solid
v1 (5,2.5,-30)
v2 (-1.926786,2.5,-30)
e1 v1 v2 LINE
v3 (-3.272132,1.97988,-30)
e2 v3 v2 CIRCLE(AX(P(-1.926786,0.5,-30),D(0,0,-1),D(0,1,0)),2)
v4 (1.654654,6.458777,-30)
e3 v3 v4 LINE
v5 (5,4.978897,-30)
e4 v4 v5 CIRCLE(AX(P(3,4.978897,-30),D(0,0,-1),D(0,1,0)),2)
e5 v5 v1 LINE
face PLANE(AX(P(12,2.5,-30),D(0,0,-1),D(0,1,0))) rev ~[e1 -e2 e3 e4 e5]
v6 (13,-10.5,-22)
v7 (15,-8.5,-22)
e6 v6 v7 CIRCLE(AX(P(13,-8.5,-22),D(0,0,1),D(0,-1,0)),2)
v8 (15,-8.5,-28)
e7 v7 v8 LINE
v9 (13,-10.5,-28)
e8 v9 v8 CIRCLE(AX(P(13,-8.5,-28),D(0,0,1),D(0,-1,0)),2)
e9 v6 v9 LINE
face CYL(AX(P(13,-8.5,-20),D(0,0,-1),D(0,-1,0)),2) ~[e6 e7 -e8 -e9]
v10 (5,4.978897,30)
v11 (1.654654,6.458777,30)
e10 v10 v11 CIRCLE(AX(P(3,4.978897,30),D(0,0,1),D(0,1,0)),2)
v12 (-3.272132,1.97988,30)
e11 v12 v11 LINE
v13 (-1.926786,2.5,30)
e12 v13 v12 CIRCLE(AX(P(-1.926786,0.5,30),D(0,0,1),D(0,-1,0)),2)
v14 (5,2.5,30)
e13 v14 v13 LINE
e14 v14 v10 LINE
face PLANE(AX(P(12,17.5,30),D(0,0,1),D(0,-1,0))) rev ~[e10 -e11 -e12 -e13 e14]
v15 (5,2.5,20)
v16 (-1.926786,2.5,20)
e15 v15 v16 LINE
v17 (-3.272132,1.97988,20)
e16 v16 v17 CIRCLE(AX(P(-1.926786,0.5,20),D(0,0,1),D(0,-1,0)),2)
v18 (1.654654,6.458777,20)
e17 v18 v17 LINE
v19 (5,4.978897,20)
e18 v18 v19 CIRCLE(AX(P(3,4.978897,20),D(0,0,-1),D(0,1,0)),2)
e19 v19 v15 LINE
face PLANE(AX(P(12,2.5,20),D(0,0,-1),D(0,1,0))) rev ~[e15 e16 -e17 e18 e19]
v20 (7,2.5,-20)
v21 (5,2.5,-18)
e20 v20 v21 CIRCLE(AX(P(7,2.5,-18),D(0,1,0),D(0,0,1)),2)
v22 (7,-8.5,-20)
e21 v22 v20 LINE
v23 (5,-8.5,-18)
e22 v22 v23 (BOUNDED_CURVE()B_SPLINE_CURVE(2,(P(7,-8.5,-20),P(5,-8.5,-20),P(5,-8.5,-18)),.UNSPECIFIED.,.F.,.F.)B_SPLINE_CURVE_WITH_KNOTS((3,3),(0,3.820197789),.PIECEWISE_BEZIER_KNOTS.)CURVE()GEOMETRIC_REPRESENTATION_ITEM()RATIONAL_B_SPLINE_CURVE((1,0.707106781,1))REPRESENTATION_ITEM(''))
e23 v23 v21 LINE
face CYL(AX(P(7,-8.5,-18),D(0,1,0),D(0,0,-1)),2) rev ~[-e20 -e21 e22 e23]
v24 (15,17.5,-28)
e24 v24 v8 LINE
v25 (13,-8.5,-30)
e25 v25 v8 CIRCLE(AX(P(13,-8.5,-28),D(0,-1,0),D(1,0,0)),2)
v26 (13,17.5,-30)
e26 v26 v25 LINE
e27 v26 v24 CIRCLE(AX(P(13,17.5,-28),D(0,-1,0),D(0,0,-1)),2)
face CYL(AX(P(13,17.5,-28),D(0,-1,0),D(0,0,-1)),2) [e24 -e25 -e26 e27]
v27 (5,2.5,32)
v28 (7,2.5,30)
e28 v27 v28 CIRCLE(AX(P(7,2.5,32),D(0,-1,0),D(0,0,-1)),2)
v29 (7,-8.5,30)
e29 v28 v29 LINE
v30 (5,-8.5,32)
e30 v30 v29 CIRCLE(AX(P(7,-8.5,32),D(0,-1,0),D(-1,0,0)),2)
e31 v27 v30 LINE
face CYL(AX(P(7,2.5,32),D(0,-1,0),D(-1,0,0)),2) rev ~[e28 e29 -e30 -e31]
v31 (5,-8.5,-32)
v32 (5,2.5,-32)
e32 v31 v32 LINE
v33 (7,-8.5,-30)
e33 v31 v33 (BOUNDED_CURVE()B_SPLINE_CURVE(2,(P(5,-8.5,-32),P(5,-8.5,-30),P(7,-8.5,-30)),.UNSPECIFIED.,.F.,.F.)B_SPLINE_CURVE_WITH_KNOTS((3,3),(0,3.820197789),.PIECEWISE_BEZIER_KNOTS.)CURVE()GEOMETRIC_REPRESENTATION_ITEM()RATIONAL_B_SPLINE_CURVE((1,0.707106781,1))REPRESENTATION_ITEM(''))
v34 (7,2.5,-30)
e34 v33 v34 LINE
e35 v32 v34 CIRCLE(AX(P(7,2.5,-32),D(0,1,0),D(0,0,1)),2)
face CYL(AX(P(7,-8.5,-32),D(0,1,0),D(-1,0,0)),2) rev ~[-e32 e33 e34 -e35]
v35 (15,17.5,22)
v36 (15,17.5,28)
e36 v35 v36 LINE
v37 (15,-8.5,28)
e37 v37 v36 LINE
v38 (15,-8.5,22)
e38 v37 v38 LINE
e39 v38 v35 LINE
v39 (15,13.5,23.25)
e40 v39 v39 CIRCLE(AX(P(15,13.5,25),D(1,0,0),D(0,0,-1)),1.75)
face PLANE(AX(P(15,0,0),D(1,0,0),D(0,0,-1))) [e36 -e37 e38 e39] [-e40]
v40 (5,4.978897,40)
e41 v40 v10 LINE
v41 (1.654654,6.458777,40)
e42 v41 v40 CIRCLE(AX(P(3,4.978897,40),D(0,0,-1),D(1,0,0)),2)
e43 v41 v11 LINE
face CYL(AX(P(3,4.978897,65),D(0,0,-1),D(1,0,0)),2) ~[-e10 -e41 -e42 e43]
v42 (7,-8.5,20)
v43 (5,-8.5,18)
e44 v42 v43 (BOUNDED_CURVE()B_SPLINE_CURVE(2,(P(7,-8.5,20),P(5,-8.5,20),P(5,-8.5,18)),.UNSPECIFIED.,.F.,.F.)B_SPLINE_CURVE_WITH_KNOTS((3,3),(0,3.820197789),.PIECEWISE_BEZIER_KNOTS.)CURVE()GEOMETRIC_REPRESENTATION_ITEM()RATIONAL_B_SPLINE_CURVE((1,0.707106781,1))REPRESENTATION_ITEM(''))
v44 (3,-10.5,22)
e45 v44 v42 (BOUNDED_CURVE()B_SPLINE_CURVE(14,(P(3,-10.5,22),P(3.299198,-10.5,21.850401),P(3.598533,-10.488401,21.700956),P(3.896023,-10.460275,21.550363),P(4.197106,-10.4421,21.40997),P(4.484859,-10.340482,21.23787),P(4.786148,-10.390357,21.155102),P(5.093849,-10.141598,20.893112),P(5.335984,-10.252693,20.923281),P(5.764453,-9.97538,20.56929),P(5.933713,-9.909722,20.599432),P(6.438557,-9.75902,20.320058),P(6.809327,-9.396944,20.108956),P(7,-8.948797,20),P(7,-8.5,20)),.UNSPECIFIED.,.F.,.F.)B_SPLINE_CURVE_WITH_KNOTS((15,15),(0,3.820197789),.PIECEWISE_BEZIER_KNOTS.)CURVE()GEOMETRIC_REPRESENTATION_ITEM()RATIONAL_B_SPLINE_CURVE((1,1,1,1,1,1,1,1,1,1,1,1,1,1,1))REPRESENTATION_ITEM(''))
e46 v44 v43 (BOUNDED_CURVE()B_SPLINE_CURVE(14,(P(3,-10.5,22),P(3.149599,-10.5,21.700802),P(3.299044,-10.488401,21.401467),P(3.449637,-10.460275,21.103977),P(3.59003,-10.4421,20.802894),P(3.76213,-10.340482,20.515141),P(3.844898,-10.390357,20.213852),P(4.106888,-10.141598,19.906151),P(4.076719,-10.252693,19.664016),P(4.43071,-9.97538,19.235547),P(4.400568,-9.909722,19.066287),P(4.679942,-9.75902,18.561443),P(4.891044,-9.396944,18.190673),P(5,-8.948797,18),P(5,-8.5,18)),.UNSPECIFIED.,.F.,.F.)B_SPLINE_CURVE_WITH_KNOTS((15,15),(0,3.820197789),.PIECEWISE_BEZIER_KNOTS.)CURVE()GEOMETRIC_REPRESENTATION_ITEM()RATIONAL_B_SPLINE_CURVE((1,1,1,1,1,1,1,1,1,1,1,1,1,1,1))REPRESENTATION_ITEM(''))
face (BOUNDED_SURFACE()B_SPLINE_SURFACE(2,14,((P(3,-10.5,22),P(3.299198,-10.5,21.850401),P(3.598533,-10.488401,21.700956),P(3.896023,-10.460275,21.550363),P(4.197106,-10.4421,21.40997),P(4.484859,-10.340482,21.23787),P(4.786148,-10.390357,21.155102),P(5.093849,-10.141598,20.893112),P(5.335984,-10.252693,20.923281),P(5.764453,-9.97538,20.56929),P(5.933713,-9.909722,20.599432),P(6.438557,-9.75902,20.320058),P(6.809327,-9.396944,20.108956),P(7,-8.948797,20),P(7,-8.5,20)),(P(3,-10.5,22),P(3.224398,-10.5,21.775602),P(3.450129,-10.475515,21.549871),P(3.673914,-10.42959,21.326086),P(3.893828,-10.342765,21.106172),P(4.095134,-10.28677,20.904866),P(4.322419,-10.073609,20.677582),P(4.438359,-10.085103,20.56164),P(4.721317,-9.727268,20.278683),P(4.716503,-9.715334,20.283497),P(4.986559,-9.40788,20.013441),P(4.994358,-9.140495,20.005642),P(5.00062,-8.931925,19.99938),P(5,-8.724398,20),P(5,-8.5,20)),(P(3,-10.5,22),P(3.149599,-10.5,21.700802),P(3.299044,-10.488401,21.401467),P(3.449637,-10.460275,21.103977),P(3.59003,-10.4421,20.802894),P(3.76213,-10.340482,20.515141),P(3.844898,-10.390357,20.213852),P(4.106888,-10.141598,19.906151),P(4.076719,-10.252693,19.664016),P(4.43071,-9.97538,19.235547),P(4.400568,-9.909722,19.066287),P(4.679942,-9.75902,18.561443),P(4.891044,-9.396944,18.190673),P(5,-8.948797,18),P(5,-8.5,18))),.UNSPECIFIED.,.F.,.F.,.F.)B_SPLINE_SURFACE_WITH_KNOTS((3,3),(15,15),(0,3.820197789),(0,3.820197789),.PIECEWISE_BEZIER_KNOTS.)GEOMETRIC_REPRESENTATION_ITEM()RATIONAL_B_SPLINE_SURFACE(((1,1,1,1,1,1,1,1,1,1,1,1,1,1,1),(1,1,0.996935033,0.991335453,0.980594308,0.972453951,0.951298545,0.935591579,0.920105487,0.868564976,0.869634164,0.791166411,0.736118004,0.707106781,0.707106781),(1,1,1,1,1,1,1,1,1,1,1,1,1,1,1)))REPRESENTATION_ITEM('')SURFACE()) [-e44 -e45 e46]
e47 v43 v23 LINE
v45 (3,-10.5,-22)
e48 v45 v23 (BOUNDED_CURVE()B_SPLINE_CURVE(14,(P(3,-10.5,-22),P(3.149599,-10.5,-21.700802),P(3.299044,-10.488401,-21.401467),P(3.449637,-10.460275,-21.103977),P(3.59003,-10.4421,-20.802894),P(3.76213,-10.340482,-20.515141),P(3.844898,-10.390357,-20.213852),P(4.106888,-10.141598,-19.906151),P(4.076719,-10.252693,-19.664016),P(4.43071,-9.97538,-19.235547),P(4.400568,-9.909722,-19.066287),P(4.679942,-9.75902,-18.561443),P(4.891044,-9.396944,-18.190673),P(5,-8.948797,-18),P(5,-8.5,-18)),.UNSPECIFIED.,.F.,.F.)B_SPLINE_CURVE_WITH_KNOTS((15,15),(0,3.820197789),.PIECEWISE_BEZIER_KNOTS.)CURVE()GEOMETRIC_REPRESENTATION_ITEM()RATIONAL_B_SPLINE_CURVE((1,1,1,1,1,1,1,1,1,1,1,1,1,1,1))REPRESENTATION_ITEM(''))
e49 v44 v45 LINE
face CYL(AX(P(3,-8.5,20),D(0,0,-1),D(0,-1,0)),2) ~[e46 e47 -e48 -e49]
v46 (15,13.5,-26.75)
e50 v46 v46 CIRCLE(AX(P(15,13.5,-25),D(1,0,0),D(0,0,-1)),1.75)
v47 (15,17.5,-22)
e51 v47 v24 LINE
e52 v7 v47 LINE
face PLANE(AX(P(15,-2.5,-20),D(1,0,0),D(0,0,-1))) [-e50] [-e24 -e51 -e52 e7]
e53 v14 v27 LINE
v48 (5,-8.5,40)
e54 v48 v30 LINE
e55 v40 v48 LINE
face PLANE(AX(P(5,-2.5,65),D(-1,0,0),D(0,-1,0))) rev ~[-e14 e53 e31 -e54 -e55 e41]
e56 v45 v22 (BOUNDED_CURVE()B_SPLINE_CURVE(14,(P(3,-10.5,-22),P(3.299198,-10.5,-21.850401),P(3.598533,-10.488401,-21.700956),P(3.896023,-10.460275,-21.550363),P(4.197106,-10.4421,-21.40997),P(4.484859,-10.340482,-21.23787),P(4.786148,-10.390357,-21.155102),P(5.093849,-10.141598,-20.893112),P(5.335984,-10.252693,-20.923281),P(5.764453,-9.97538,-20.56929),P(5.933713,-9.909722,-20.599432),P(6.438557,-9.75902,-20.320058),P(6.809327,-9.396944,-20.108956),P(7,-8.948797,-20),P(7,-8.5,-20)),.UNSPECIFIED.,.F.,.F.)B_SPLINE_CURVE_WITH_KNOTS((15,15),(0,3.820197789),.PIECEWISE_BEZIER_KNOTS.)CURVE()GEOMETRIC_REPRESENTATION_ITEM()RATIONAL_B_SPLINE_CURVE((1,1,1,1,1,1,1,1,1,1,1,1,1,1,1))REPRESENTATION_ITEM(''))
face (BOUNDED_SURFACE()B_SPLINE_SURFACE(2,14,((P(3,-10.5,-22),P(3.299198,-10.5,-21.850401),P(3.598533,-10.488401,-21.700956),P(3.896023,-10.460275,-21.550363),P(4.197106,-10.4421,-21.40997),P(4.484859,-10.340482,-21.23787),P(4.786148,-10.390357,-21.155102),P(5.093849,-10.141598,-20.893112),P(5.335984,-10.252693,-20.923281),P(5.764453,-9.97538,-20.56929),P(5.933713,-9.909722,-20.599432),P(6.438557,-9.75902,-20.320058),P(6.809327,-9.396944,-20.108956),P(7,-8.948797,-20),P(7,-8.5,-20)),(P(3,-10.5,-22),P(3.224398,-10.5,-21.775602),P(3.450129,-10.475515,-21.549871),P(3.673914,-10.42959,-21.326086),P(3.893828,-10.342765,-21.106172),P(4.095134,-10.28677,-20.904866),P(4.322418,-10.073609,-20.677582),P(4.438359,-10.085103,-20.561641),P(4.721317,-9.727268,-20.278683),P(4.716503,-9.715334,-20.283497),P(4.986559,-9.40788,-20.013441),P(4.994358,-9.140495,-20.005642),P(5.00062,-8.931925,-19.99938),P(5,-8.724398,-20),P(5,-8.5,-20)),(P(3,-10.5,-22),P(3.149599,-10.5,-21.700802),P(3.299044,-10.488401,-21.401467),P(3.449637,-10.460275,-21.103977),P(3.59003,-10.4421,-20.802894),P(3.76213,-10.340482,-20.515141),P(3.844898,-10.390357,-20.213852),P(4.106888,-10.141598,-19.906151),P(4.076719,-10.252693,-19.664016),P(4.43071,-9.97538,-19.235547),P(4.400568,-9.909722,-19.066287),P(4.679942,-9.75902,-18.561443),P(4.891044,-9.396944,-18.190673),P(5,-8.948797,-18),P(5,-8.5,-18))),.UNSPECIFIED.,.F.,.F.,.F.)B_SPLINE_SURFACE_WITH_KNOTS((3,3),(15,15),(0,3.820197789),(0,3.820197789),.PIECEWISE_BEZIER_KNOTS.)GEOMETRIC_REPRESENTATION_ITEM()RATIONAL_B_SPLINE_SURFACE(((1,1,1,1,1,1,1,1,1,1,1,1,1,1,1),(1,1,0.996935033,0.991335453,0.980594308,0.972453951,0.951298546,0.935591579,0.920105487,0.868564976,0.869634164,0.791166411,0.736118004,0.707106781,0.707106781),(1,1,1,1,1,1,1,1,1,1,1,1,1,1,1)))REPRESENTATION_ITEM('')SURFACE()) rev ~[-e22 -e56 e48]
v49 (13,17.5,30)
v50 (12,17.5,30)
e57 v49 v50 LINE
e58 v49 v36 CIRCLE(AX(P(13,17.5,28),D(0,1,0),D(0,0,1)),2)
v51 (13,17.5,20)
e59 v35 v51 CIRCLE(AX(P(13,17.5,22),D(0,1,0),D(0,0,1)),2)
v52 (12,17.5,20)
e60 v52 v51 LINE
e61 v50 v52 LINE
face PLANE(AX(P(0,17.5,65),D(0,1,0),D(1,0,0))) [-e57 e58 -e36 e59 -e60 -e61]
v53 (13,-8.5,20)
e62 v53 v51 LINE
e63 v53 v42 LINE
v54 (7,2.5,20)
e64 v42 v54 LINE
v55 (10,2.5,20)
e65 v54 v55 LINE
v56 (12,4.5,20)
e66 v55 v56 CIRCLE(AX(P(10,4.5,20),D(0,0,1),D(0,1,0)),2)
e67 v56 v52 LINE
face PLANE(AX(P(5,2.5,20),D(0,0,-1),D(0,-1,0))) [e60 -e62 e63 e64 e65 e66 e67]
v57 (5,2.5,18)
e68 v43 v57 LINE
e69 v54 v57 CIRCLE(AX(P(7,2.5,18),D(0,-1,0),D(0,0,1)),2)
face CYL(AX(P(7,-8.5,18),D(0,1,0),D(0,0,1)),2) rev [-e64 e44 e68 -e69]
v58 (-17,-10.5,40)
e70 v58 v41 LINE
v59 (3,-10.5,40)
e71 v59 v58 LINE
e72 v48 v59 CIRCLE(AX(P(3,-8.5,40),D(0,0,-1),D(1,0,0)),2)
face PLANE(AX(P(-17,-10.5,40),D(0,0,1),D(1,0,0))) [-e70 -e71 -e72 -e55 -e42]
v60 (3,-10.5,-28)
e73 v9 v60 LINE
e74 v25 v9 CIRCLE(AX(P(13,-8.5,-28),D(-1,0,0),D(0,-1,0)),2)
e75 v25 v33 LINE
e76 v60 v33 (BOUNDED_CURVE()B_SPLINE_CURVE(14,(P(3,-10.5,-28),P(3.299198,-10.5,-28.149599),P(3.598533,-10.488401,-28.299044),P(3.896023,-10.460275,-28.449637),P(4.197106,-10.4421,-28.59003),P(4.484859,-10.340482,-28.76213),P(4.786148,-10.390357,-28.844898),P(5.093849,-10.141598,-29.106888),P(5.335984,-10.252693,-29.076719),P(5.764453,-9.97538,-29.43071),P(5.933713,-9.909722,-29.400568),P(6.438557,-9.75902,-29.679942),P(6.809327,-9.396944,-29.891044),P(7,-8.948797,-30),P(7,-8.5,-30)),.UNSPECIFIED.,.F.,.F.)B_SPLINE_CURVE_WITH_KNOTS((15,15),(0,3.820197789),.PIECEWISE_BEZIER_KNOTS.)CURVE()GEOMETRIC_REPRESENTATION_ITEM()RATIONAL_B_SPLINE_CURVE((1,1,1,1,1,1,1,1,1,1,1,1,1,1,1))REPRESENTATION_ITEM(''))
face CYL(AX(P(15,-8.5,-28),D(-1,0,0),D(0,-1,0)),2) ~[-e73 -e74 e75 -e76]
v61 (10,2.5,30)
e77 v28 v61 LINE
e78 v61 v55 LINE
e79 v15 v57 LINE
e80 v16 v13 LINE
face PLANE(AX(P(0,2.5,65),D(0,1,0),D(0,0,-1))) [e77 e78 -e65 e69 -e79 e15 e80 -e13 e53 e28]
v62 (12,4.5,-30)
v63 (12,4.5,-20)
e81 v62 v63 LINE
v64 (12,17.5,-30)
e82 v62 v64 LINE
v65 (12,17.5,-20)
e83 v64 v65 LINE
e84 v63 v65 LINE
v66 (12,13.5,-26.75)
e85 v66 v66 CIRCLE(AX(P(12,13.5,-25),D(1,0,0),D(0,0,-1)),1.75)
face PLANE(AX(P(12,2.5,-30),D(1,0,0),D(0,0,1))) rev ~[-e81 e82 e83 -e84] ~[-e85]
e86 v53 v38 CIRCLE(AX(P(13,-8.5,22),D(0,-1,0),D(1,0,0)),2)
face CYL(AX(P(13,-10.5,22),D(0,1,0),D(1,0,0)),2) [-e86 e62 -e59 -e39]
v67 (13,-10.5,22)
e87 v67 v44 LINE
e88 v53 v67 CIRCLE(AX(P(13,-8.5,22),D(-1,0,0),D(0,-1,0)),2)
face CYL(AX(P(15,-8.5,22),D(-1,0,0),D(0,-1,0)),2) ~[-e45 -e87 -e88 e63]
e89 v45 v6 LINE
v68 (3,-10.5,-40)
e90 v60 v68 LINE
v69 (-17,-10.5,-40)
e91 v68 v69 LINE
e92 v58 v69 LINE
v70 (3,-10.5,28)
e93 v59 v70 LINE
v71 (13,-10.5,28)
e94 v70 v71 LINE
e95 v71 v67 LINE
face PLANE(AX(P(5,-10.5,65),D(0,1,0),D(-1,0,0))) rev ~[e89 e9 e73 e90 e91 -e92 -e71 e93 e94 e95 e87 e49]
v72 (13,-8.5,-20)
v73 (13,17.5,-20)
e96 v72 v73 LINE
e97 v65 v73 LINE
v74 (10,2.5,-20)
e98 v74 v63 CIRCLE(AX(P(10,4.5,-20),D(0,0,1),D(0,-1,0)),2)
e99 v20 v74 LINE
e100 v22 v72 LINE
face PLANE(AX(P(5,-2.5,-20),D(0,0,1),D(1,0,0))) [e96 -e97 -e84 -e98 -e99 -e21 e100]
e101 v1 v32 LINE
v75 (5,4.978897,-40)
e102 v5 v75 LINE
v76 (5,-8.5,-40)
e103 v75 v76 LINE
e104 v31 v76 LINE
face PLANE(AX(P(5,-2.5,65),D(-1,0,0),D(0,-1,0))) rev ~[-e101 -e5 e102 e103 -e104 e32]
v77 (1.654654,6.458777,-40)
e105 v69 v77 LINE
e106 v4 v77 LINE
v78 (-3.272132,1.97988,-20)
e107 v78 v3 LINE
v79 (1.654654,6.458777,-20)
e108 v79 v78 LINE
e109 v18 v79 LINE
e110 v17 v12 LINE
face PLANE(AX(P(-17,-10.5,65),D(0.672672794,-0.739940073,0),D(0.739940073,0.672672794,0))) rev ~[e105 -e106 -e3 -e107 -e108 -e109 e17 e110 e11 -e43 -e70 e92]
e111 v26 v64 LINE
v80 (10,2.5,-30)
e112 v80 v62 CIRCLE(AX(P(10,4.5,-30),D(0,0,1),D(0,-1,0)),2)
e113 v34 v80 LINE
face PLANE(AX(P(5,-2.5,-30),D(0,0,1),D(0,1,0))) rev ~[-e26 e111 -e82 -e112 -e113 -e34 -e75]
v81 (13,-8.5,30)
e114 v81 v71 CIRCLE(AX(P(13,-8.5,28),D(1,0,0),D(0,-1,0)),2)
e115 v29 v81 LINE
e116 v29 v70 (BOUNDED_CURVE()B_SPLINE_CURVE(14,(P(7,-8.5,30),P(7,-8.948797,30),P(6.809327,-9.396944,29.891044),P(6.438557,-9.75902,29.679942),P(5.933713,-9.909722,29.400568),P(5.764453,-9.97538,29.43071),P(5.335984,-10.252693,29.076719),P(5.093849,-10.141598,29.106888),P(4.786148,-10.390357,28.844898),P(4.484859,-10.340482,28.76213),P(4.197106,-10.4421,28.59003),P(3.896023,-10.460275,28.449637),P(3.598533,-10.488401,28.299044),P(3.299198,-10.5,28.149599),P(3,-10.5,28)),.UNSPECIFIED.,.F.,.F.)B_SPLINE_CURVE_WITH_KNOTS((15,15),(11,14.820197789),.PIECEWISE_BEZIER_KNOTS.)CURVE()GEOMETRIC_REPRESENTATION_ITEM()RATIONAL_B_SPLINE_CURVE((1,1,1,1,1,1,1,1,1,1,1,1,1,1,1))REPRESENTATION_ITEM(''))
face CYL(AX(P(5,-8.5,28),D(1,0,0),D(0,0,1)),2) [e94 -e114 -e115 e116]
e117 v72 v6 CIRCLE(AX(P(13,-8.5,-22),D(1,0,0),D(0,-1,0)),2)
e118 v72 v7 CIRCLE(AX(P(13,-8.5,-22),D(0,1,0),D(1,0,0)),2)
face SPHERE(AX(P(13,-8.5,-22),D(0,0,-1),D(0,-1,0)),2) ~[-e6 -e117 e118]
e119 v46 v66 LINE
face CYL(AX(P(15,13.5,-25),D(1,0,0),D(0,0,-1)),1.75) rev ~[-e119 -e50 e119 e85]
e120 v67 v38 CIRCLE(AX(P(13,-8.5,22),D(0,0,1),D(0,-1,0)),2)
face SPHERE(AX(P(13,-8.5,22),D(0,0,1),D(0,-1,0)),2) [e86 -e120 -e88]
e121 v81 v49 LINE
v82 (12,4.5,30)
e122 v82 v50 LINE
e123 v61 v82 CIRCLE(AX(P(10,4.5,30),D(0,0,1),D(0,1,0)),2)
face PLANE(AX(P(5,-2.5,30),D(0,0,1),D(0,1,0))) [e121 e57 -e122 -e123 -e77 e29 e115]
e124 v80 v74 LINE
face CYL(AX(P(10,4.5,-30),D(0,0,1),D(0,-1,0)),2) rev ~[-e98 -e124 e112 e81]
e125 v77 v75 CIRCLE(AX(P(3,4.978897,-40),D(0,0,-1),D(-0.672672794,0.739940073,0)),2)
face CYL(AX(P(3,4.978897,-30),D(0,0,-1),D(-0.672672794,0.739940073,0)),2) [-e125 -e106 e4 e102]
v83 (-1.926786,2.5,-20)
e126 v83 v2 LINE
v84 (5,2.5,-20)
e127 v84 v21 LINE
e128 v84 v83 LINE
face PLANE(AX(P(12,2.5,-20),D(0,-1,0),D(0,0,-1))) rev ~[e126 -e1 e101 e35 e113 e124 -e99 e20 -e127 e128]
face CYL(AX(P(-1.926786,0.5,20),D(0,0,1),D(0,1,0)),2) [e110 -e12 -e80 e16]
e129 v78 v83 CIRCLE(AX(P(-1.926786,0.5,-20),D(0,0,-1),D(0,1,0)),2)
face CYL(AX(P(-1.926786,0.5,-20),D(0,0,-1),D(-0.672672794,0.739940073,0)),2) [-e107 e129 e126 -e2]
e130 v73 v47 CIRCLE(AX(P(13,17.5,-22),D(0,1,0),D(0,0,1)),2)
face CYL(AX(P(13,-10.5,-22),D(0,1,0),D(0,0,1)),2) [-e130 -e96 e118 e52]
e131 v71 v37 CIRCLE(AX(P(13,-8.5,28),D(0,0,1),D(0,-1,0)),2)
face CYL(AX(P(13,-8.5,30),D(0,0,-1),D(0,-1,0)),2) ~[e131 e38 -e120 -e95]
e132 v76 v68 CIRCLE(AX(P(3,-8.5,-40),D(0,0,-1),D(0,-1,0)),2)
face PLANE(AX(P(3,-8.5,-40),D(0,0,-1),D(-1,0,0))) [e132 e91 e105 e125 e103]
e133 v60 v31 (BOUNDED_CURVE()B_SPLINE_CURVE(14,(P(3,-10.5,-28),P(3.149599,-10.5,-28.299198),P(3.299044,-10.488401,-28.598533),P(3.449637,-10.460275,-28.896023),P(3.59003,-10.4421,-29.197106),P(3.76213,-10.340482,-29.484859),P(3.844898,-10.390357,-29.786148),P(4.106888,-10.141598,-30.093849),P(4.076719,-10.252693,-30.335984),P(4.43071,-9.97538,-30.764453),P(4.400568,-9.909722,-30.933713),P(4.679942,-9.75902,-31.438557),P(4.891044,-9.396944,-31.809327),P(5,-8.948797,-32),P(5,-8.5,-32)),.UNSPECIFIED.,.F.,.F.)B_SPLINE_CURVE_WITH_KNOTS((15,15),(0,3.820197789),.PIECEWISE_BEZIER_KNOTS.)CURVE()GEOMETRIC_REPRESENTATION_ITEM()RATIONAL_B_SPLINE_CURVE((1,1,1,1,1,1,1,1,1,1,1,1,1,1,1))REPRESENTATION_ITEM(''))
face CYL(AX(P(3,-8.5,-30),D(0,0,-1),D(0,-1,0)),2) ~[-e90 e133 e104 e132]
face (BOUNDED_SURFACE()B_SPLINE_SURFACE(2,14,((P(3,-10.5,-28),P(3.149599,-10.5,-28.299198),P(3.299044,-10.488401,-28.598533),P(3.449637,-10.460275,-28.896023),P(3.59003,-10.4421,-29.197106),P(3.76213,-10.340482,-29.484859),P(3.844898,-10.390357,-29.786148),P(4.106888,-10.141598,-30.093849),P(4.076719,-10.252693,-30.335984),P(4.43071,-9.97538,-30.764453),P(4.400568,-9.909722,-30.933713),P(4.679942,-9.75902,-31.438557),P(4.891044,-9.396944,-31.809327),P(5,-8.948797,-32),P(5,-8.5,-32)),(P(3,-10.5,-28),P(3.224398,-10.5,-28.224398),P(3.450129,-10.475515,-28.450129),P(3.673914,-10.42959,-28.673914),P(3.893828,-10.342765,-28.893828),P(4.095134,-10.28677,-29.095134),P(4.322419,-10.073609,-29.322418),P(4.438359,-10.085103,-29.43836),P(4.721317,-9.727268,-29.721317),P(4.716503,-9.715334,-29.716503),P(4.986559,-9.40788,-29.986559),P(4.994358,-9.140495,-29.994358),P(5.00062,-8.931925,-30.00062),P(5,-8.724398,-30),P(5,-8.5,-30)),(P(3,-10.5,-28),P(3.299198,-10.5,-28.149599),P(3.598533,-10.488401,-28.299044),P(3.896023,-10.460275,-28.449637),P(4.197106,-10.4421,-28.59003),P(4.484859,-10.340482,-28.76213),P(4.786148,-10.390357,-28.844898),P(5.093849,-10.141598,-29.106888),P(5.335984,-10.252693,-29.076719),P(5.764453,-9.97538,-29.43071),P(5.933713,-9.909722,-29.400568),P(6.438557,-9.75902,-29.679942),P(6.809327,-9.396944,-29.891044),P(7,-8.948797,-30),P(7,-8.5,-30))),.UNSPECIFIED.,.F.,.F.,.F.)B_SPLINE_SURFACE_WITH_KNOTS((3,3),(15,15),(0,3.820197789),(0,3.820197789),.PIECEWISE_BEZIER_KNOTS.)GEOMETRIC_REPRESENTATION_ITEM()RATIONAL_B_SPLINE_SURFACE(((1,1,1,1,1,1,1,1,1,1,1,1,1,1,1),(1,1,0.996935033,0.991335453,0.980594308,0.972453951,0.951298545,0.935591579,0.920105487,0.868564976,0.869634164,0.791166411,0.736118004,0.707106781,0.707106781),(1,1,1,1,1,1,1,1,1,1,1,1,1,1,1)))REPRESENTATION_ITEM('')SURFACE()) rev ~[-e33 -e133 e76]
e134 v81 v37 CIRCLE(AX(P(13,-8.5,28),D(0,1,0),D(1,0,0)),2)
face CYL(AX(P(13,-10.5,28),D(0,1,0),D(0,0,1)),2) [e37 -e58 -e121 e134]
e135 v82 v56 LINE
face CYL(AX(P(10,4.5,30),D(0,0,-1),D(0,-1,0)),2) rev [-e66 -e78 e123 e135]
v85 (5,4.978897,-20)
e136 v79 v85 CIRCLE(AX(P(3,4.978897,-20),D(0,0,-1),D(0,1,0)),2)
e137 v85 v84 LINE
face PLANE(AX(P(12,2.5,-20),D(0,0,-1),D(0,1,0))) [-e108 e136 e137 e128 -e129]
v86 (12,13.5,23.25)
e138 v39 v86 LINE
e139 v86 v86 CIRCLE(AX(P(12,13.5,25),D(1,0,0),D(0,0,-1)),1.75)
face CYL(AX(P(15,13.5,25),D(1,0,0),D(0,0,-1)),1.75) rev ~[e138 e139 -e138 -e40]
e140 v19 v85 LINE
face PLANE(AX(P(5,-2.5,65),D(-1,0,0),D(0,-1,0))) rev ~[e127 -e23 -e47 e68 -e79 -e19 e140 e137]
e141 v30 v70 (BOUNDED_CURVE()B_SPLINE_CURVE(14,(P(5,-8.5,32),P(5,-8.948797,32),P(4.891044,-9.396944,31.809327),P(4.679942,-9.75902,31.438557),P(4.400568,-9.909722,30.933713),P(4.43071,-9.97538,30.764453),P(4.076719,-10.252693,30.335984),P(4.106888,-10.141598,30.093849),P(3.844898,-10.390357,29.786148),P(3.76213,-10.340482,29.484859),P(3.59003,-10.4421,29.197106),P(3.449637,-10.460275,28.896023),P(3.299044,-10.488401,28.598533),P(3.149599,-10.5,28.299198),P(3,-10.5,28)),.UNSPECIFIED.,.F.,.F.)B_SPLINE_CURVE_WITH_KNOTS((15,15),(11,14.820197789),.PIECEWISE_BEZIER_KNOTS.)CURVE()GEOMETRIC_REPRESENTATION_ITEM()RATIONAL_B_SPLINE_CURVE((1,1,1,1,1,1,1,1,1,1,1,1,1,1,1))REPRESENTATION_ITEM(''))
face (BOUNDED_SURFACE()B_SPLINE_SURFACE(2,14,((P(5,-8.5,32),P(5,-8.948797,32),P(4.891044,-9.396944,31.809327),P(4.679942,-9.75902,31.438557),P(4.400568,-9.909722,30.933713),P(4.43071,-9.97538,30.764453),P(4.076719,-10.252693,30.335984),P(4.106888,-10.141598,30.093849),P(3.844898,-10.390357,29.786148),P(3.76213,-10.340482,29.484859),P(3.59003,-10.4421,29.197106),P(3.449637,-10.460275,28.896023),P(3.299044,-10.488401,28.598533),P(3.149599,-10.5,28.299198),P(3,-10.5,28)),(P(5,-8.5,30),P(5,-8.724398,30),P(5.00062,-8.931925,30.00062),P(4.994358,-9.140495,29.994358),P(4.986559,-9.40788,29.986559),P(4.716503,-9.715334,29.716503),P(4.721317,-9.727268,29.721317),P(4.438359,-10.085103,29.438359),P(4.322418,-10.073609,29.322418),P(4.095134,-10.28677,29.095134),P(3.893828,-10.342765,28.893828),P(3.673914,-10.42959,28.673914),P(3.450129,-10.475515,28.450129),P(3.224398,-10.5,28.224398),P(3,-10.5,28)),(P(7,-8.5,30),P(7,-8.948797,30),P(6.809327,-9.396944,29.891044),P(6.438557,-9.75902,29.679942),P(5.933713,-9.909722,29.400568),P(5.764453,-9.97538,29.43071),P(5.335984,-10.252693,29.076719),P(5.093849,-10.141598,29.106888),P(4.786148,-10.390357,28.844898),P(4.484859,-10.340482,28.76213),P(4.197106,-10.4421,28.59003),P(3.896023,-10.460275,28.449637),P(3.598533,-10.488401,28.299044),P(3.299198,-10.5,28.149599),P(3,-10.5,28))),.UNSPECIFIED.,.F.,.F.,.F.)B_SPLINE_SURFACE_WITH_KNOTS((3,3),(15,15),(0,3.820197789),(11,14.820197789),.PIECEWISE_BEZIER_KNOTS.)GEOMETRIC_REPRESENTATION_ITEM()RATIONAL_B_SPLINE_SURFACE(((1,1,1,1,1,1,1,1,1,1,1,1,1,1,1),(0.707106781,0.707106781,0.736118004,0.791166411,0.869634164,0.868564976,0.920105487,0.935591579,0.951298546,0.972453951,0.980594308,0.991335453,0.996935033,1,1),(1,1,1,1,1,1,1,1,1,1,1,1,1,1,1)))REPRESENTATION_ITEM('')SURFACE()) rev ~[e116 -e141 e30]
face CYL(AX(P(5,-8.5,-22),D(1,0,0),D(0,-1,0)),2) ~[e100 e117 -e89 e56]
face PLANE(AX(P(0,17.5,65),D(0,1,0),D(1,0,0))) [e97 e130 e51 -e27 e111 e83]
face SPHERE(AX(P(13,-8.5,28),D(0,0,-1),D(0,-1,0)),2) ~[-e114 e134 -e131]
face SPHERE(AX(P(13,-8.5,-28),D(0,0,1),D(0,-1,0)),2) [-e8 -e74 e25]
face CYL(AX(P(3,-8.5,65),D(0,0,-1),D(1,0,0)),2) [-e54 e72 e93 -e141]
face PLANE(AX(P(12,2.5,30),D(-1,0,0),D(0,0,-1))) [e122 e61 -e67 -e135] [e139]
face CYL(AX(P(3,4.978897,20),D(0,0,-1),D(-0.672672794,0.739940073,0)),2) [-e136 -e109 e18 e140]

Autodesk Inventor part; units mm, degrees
ref_plane "YZ Plane" through (0, 0, 0) normal (1, 0, 0) x (0, 1, 0)
ref_plane "XZ Plane" through (0, 0, 0) normal (0, 1, 0) x (-1, 0, 0)
ref_plane "XY Plane" through (0, 0, 0) normal (0, 0, 1) x (1, 0, 0)
sketch "Esquisse1" plane through (0, 0, 0) normal (1, 0, 0) x (0, 1, 0)
  line L0 (-2.5, 65) -> (2.5, 65)
  line L1 (2.5, 65) -> (2.5, -65)
  line L2 (2.5, -65) -> (-2.5, -65)
  line L3 (-2.5, -65) -> (-2.5, 65)
  line L4 (2.5, 65) -> (-2.5, -65)
  line L5 (2.5, -65) -> (-2.5, 65)
  point P0 (0, 0)
  point P1 (0, 0)
  point P2 (0, 0)
  dimension "d0" = 130
  dimension "d1" = 5
extrude "Extrusion1" add sketch "Esquisse1" along normal blind 5
sketch "Esquisse2" plane through (5, 0, 0) normal (1, 0, 0) x (0, 0, -1)
  line L0 (65, 2.5) -> (-65, 2.5) projected
  line L1 (-65, -2.5) -> (65, -2.5) projected
  line L2 (-30, 2.5) -> (-20, 2.5)
  line L3 (-20, 2.5) -> (-20, -2.5)
  line L4 (-20, -2.5) -> (-30, -2.5)
  line L5 (-30, -2.5) -> (-30, 2.5)
  line L6 (0, 13) -> (0, -16)
  line L7 (30, 2.5) -> (20, 2.5)
  line L8 (20, 2.5) -> (20, -2.5)
  line L9 (20, -2.5) -> (30, -2.5)
  line L10 (30, -2.5) -> (30, 2.5)
  point P0 (0, 0)
  point P1 (-20, 2.5)
  point P2 (30, -2.5)
  point P3 (30, 2.5)
  point P4 (20, 2.5)
  point P5 (20, -2.5)
  dimension "d4" = 10
  dimension "d5" = 20
extrude "Extrusion2" add sketch "Esquisse2" along normal blind 10 contours L10 L1 L8 L0 | L3 L1 L5 L0
sketch "Esquisse3" plane through (0, 2.5, 65) normal (0, 1, 0) x (1, 0, 0)
  line L0 (15, 45) -> (15, 35) projected
  line L1 (5, 45) -> (15, 45) projected
  line L2 (15, 35) -> (12, 35)
  line L3 (12, 35) -> (12, 45)
  line L4 (12, 45) -> (15, 45)
  line L5 (15, 45) -> (15, 35)
  line L6 (-9, 65) -> (24, 65)
  line L7 (15, 85) -> (15, 95)
  line L8 (15, 95) -> (12, 95)
  line L9 (12, 95) -> (12, 85)
  line L10 (12, 85) -> (15, 85)
  line L11 (15, 85) -> (15, 95)
  point P0 (0, 65)
extrude "Extrusion3" add sketch "Esquisse3" along normal blind 15
sketch "Esquisse4" plane through (15, 0, 0) normal (1, 0, 0) x (0, 0, -1)
  circle A0 centre (-25, 13.5) radius 1.75
  line L0 (0, 20) -> (0, -21)
  circle A1 centre (25, 13.5) radius 1.75
  line L1 (-30, 17.5) -> (-20, 17.5) projected
  line L2 (-20, -2.5) -> (-20, 17.5) projected
  point P0 (0, 0)
  dimension "d10" = 3.5
  dimension "d11" = 4
  dimension "d19" = 5
extrude "Extrusion4" cut sketch "Esquisse4" against normal blind 10
sketch "Esquisse6" plane through (0, -2.5, 65) normal (0, 0, 1) x (1, 0, 0)
  line L0 (0, 0) -> (5, 0) projected
  line L1 (5, 0) -> (5, -8)
  line L2 (5, -8) -> (-17, -8)
  line L3 (-17, -8) -> (5, 12)
  line L4 (5, 0) -> (5, 5) projected
  line L5 (5, 12) -> (5, 0)
  point P0 (0, 2.5)
extrude "Extrusion6" add sketch "Esquisse6" against normal blind 130
sketch "Esquisse8" plane through (12, 2.5, 20) normal (-1, 0, 0) x (0, 0, 1)
  line L0 (0, -5) -> (0, 15) projected
  line L1 (0, 0) -> (10, 0) projected
  line L2 (0, 15) -> (10, 15)
  line L3 (10, 15) -> (10, 0)
  line L4 (10, 0) -> (0, 0)
  line L5 (0, 0) -> (0, 15)
  line L6 (-50, -5) -> (-50, 15) projected
  line L7 (-40, 0) -> (-40, 15) projected
  line L8 (-50, 15) -> (-40, 15)
  line L9 (-40, 15) -> (-40, 0)
  line L10 (-40, 0) -> (-50, 0)
  line L11 (-50, 0) -> (-50, 15)
  circle A0 centre (5, 6) radius 1.75
  point P0 (-20, -2.5)
extrude "Extrusion7" cut sketch "Esquisse8" along normal blind 130 contours L0 L2 L3 L1 | L6 L8 L7 L10 | A0
sketch "Esquisse10" plane through (5, -2.5, -30) normal (0, -1, 0) x (1, 0, 0)
  line L0 (10, 0) -> (7, 0) projected
  line L1 (0, 10) -> (7, 10) projected
  line L2 (10, 0) -> (0, 0)
  line L3 (0, 0) -> (0, 10)
  line L4 (0, 10) -> (10, 10)
  line L5 (10, 10) -> (10, 0)
  line L6 (0, 60) -> (7, 60) projected
  line L7 (10, 50) -> (0, 50)
  line L8 (0, 50) -> (0, 60)
  line L9 (0, 60) -> (10, 60)
  line L10 (10, 60) -> (10, 50)
  point P0 (-5, 30)
extrude "Extrusion8" add sketch "Esquisse10" along normal blind 8
fillet "Congé5" radius 2 20 edges at (15, -10.5, -25) (15, -10.5, 25) (5, -10.5, -47.5) (5, -10.5, 0) (5, -10.5, 47.5) (10, -10.5, 20) (10, -10.5, 30) (10, -10.5, -20) (10, -10.5, -30) (-6, -10.5, -65) (5, -0.5, -65) (-6, -0.5, -65) (5, 9.5, -47.5) (5, 9.5, 0) (5, 9.5, 47.5) (5, -0.5, 65) (15, 3.5, 30) (15, 3.5, 20) (15, 3.5, -20) (15, 3.5, -30)
fillet "Congé6" radius 2 10 edges at (8, -10.5, 28) (4.4142, -9.9142, 29.4142) (5, -3, 30) (4.4142, -9.9142, -20.5858) (5, -3, -20) (4.4142, -9.9142, 20.5858) (5, -3, 20) (8, -10.5, -28) (4.4142, -9.9142, -29.4142) (5, -3, -30)
fillet "Congé7" radius 2 2 edges at (12, 2.5, -25) (12, 2.5, 25)
fillet "Congé8" radius 2 2 edges at (-2.7, 2.5, -25) (-2.7, 2.5, 25)
sketch "Esquisse12" plane through (-17, -10.5, 65) normal (0, 0, 1) x (1, 0, 0)
  line L0 (0, 0) -> (22, 20)
  line L1 (22, 20) -> (22, 0)
  line L2 (22, 13) -> (22, 2) projected
  line L3 (22, 0) -> (0, 0)
  point P0 (17, 10.5)
extrude "Extrusion9" cut sketch "Esquisse12" against normal blind 25
sketch "Esquisse13" plane through (3, -8.5, -65) normal (0, 0, -1) x (-1, 0, 0)
  line L0 (0, -2) -> (20, -2) projected
  line L1 (20, -2) -> (-2, 18)
  line L2 (-2, 18) -> (-2, -2)
  line L3 (-2, 11) -> (-2, 0) projected
  line L4 (-2, -2) -> (20, -2)
  point P0 (3, 8.5)
extrude "Extrusion10" cut sketch "Esquisse13" against normal blind 25
properties part number "pare-chocs_Impression 3D"
